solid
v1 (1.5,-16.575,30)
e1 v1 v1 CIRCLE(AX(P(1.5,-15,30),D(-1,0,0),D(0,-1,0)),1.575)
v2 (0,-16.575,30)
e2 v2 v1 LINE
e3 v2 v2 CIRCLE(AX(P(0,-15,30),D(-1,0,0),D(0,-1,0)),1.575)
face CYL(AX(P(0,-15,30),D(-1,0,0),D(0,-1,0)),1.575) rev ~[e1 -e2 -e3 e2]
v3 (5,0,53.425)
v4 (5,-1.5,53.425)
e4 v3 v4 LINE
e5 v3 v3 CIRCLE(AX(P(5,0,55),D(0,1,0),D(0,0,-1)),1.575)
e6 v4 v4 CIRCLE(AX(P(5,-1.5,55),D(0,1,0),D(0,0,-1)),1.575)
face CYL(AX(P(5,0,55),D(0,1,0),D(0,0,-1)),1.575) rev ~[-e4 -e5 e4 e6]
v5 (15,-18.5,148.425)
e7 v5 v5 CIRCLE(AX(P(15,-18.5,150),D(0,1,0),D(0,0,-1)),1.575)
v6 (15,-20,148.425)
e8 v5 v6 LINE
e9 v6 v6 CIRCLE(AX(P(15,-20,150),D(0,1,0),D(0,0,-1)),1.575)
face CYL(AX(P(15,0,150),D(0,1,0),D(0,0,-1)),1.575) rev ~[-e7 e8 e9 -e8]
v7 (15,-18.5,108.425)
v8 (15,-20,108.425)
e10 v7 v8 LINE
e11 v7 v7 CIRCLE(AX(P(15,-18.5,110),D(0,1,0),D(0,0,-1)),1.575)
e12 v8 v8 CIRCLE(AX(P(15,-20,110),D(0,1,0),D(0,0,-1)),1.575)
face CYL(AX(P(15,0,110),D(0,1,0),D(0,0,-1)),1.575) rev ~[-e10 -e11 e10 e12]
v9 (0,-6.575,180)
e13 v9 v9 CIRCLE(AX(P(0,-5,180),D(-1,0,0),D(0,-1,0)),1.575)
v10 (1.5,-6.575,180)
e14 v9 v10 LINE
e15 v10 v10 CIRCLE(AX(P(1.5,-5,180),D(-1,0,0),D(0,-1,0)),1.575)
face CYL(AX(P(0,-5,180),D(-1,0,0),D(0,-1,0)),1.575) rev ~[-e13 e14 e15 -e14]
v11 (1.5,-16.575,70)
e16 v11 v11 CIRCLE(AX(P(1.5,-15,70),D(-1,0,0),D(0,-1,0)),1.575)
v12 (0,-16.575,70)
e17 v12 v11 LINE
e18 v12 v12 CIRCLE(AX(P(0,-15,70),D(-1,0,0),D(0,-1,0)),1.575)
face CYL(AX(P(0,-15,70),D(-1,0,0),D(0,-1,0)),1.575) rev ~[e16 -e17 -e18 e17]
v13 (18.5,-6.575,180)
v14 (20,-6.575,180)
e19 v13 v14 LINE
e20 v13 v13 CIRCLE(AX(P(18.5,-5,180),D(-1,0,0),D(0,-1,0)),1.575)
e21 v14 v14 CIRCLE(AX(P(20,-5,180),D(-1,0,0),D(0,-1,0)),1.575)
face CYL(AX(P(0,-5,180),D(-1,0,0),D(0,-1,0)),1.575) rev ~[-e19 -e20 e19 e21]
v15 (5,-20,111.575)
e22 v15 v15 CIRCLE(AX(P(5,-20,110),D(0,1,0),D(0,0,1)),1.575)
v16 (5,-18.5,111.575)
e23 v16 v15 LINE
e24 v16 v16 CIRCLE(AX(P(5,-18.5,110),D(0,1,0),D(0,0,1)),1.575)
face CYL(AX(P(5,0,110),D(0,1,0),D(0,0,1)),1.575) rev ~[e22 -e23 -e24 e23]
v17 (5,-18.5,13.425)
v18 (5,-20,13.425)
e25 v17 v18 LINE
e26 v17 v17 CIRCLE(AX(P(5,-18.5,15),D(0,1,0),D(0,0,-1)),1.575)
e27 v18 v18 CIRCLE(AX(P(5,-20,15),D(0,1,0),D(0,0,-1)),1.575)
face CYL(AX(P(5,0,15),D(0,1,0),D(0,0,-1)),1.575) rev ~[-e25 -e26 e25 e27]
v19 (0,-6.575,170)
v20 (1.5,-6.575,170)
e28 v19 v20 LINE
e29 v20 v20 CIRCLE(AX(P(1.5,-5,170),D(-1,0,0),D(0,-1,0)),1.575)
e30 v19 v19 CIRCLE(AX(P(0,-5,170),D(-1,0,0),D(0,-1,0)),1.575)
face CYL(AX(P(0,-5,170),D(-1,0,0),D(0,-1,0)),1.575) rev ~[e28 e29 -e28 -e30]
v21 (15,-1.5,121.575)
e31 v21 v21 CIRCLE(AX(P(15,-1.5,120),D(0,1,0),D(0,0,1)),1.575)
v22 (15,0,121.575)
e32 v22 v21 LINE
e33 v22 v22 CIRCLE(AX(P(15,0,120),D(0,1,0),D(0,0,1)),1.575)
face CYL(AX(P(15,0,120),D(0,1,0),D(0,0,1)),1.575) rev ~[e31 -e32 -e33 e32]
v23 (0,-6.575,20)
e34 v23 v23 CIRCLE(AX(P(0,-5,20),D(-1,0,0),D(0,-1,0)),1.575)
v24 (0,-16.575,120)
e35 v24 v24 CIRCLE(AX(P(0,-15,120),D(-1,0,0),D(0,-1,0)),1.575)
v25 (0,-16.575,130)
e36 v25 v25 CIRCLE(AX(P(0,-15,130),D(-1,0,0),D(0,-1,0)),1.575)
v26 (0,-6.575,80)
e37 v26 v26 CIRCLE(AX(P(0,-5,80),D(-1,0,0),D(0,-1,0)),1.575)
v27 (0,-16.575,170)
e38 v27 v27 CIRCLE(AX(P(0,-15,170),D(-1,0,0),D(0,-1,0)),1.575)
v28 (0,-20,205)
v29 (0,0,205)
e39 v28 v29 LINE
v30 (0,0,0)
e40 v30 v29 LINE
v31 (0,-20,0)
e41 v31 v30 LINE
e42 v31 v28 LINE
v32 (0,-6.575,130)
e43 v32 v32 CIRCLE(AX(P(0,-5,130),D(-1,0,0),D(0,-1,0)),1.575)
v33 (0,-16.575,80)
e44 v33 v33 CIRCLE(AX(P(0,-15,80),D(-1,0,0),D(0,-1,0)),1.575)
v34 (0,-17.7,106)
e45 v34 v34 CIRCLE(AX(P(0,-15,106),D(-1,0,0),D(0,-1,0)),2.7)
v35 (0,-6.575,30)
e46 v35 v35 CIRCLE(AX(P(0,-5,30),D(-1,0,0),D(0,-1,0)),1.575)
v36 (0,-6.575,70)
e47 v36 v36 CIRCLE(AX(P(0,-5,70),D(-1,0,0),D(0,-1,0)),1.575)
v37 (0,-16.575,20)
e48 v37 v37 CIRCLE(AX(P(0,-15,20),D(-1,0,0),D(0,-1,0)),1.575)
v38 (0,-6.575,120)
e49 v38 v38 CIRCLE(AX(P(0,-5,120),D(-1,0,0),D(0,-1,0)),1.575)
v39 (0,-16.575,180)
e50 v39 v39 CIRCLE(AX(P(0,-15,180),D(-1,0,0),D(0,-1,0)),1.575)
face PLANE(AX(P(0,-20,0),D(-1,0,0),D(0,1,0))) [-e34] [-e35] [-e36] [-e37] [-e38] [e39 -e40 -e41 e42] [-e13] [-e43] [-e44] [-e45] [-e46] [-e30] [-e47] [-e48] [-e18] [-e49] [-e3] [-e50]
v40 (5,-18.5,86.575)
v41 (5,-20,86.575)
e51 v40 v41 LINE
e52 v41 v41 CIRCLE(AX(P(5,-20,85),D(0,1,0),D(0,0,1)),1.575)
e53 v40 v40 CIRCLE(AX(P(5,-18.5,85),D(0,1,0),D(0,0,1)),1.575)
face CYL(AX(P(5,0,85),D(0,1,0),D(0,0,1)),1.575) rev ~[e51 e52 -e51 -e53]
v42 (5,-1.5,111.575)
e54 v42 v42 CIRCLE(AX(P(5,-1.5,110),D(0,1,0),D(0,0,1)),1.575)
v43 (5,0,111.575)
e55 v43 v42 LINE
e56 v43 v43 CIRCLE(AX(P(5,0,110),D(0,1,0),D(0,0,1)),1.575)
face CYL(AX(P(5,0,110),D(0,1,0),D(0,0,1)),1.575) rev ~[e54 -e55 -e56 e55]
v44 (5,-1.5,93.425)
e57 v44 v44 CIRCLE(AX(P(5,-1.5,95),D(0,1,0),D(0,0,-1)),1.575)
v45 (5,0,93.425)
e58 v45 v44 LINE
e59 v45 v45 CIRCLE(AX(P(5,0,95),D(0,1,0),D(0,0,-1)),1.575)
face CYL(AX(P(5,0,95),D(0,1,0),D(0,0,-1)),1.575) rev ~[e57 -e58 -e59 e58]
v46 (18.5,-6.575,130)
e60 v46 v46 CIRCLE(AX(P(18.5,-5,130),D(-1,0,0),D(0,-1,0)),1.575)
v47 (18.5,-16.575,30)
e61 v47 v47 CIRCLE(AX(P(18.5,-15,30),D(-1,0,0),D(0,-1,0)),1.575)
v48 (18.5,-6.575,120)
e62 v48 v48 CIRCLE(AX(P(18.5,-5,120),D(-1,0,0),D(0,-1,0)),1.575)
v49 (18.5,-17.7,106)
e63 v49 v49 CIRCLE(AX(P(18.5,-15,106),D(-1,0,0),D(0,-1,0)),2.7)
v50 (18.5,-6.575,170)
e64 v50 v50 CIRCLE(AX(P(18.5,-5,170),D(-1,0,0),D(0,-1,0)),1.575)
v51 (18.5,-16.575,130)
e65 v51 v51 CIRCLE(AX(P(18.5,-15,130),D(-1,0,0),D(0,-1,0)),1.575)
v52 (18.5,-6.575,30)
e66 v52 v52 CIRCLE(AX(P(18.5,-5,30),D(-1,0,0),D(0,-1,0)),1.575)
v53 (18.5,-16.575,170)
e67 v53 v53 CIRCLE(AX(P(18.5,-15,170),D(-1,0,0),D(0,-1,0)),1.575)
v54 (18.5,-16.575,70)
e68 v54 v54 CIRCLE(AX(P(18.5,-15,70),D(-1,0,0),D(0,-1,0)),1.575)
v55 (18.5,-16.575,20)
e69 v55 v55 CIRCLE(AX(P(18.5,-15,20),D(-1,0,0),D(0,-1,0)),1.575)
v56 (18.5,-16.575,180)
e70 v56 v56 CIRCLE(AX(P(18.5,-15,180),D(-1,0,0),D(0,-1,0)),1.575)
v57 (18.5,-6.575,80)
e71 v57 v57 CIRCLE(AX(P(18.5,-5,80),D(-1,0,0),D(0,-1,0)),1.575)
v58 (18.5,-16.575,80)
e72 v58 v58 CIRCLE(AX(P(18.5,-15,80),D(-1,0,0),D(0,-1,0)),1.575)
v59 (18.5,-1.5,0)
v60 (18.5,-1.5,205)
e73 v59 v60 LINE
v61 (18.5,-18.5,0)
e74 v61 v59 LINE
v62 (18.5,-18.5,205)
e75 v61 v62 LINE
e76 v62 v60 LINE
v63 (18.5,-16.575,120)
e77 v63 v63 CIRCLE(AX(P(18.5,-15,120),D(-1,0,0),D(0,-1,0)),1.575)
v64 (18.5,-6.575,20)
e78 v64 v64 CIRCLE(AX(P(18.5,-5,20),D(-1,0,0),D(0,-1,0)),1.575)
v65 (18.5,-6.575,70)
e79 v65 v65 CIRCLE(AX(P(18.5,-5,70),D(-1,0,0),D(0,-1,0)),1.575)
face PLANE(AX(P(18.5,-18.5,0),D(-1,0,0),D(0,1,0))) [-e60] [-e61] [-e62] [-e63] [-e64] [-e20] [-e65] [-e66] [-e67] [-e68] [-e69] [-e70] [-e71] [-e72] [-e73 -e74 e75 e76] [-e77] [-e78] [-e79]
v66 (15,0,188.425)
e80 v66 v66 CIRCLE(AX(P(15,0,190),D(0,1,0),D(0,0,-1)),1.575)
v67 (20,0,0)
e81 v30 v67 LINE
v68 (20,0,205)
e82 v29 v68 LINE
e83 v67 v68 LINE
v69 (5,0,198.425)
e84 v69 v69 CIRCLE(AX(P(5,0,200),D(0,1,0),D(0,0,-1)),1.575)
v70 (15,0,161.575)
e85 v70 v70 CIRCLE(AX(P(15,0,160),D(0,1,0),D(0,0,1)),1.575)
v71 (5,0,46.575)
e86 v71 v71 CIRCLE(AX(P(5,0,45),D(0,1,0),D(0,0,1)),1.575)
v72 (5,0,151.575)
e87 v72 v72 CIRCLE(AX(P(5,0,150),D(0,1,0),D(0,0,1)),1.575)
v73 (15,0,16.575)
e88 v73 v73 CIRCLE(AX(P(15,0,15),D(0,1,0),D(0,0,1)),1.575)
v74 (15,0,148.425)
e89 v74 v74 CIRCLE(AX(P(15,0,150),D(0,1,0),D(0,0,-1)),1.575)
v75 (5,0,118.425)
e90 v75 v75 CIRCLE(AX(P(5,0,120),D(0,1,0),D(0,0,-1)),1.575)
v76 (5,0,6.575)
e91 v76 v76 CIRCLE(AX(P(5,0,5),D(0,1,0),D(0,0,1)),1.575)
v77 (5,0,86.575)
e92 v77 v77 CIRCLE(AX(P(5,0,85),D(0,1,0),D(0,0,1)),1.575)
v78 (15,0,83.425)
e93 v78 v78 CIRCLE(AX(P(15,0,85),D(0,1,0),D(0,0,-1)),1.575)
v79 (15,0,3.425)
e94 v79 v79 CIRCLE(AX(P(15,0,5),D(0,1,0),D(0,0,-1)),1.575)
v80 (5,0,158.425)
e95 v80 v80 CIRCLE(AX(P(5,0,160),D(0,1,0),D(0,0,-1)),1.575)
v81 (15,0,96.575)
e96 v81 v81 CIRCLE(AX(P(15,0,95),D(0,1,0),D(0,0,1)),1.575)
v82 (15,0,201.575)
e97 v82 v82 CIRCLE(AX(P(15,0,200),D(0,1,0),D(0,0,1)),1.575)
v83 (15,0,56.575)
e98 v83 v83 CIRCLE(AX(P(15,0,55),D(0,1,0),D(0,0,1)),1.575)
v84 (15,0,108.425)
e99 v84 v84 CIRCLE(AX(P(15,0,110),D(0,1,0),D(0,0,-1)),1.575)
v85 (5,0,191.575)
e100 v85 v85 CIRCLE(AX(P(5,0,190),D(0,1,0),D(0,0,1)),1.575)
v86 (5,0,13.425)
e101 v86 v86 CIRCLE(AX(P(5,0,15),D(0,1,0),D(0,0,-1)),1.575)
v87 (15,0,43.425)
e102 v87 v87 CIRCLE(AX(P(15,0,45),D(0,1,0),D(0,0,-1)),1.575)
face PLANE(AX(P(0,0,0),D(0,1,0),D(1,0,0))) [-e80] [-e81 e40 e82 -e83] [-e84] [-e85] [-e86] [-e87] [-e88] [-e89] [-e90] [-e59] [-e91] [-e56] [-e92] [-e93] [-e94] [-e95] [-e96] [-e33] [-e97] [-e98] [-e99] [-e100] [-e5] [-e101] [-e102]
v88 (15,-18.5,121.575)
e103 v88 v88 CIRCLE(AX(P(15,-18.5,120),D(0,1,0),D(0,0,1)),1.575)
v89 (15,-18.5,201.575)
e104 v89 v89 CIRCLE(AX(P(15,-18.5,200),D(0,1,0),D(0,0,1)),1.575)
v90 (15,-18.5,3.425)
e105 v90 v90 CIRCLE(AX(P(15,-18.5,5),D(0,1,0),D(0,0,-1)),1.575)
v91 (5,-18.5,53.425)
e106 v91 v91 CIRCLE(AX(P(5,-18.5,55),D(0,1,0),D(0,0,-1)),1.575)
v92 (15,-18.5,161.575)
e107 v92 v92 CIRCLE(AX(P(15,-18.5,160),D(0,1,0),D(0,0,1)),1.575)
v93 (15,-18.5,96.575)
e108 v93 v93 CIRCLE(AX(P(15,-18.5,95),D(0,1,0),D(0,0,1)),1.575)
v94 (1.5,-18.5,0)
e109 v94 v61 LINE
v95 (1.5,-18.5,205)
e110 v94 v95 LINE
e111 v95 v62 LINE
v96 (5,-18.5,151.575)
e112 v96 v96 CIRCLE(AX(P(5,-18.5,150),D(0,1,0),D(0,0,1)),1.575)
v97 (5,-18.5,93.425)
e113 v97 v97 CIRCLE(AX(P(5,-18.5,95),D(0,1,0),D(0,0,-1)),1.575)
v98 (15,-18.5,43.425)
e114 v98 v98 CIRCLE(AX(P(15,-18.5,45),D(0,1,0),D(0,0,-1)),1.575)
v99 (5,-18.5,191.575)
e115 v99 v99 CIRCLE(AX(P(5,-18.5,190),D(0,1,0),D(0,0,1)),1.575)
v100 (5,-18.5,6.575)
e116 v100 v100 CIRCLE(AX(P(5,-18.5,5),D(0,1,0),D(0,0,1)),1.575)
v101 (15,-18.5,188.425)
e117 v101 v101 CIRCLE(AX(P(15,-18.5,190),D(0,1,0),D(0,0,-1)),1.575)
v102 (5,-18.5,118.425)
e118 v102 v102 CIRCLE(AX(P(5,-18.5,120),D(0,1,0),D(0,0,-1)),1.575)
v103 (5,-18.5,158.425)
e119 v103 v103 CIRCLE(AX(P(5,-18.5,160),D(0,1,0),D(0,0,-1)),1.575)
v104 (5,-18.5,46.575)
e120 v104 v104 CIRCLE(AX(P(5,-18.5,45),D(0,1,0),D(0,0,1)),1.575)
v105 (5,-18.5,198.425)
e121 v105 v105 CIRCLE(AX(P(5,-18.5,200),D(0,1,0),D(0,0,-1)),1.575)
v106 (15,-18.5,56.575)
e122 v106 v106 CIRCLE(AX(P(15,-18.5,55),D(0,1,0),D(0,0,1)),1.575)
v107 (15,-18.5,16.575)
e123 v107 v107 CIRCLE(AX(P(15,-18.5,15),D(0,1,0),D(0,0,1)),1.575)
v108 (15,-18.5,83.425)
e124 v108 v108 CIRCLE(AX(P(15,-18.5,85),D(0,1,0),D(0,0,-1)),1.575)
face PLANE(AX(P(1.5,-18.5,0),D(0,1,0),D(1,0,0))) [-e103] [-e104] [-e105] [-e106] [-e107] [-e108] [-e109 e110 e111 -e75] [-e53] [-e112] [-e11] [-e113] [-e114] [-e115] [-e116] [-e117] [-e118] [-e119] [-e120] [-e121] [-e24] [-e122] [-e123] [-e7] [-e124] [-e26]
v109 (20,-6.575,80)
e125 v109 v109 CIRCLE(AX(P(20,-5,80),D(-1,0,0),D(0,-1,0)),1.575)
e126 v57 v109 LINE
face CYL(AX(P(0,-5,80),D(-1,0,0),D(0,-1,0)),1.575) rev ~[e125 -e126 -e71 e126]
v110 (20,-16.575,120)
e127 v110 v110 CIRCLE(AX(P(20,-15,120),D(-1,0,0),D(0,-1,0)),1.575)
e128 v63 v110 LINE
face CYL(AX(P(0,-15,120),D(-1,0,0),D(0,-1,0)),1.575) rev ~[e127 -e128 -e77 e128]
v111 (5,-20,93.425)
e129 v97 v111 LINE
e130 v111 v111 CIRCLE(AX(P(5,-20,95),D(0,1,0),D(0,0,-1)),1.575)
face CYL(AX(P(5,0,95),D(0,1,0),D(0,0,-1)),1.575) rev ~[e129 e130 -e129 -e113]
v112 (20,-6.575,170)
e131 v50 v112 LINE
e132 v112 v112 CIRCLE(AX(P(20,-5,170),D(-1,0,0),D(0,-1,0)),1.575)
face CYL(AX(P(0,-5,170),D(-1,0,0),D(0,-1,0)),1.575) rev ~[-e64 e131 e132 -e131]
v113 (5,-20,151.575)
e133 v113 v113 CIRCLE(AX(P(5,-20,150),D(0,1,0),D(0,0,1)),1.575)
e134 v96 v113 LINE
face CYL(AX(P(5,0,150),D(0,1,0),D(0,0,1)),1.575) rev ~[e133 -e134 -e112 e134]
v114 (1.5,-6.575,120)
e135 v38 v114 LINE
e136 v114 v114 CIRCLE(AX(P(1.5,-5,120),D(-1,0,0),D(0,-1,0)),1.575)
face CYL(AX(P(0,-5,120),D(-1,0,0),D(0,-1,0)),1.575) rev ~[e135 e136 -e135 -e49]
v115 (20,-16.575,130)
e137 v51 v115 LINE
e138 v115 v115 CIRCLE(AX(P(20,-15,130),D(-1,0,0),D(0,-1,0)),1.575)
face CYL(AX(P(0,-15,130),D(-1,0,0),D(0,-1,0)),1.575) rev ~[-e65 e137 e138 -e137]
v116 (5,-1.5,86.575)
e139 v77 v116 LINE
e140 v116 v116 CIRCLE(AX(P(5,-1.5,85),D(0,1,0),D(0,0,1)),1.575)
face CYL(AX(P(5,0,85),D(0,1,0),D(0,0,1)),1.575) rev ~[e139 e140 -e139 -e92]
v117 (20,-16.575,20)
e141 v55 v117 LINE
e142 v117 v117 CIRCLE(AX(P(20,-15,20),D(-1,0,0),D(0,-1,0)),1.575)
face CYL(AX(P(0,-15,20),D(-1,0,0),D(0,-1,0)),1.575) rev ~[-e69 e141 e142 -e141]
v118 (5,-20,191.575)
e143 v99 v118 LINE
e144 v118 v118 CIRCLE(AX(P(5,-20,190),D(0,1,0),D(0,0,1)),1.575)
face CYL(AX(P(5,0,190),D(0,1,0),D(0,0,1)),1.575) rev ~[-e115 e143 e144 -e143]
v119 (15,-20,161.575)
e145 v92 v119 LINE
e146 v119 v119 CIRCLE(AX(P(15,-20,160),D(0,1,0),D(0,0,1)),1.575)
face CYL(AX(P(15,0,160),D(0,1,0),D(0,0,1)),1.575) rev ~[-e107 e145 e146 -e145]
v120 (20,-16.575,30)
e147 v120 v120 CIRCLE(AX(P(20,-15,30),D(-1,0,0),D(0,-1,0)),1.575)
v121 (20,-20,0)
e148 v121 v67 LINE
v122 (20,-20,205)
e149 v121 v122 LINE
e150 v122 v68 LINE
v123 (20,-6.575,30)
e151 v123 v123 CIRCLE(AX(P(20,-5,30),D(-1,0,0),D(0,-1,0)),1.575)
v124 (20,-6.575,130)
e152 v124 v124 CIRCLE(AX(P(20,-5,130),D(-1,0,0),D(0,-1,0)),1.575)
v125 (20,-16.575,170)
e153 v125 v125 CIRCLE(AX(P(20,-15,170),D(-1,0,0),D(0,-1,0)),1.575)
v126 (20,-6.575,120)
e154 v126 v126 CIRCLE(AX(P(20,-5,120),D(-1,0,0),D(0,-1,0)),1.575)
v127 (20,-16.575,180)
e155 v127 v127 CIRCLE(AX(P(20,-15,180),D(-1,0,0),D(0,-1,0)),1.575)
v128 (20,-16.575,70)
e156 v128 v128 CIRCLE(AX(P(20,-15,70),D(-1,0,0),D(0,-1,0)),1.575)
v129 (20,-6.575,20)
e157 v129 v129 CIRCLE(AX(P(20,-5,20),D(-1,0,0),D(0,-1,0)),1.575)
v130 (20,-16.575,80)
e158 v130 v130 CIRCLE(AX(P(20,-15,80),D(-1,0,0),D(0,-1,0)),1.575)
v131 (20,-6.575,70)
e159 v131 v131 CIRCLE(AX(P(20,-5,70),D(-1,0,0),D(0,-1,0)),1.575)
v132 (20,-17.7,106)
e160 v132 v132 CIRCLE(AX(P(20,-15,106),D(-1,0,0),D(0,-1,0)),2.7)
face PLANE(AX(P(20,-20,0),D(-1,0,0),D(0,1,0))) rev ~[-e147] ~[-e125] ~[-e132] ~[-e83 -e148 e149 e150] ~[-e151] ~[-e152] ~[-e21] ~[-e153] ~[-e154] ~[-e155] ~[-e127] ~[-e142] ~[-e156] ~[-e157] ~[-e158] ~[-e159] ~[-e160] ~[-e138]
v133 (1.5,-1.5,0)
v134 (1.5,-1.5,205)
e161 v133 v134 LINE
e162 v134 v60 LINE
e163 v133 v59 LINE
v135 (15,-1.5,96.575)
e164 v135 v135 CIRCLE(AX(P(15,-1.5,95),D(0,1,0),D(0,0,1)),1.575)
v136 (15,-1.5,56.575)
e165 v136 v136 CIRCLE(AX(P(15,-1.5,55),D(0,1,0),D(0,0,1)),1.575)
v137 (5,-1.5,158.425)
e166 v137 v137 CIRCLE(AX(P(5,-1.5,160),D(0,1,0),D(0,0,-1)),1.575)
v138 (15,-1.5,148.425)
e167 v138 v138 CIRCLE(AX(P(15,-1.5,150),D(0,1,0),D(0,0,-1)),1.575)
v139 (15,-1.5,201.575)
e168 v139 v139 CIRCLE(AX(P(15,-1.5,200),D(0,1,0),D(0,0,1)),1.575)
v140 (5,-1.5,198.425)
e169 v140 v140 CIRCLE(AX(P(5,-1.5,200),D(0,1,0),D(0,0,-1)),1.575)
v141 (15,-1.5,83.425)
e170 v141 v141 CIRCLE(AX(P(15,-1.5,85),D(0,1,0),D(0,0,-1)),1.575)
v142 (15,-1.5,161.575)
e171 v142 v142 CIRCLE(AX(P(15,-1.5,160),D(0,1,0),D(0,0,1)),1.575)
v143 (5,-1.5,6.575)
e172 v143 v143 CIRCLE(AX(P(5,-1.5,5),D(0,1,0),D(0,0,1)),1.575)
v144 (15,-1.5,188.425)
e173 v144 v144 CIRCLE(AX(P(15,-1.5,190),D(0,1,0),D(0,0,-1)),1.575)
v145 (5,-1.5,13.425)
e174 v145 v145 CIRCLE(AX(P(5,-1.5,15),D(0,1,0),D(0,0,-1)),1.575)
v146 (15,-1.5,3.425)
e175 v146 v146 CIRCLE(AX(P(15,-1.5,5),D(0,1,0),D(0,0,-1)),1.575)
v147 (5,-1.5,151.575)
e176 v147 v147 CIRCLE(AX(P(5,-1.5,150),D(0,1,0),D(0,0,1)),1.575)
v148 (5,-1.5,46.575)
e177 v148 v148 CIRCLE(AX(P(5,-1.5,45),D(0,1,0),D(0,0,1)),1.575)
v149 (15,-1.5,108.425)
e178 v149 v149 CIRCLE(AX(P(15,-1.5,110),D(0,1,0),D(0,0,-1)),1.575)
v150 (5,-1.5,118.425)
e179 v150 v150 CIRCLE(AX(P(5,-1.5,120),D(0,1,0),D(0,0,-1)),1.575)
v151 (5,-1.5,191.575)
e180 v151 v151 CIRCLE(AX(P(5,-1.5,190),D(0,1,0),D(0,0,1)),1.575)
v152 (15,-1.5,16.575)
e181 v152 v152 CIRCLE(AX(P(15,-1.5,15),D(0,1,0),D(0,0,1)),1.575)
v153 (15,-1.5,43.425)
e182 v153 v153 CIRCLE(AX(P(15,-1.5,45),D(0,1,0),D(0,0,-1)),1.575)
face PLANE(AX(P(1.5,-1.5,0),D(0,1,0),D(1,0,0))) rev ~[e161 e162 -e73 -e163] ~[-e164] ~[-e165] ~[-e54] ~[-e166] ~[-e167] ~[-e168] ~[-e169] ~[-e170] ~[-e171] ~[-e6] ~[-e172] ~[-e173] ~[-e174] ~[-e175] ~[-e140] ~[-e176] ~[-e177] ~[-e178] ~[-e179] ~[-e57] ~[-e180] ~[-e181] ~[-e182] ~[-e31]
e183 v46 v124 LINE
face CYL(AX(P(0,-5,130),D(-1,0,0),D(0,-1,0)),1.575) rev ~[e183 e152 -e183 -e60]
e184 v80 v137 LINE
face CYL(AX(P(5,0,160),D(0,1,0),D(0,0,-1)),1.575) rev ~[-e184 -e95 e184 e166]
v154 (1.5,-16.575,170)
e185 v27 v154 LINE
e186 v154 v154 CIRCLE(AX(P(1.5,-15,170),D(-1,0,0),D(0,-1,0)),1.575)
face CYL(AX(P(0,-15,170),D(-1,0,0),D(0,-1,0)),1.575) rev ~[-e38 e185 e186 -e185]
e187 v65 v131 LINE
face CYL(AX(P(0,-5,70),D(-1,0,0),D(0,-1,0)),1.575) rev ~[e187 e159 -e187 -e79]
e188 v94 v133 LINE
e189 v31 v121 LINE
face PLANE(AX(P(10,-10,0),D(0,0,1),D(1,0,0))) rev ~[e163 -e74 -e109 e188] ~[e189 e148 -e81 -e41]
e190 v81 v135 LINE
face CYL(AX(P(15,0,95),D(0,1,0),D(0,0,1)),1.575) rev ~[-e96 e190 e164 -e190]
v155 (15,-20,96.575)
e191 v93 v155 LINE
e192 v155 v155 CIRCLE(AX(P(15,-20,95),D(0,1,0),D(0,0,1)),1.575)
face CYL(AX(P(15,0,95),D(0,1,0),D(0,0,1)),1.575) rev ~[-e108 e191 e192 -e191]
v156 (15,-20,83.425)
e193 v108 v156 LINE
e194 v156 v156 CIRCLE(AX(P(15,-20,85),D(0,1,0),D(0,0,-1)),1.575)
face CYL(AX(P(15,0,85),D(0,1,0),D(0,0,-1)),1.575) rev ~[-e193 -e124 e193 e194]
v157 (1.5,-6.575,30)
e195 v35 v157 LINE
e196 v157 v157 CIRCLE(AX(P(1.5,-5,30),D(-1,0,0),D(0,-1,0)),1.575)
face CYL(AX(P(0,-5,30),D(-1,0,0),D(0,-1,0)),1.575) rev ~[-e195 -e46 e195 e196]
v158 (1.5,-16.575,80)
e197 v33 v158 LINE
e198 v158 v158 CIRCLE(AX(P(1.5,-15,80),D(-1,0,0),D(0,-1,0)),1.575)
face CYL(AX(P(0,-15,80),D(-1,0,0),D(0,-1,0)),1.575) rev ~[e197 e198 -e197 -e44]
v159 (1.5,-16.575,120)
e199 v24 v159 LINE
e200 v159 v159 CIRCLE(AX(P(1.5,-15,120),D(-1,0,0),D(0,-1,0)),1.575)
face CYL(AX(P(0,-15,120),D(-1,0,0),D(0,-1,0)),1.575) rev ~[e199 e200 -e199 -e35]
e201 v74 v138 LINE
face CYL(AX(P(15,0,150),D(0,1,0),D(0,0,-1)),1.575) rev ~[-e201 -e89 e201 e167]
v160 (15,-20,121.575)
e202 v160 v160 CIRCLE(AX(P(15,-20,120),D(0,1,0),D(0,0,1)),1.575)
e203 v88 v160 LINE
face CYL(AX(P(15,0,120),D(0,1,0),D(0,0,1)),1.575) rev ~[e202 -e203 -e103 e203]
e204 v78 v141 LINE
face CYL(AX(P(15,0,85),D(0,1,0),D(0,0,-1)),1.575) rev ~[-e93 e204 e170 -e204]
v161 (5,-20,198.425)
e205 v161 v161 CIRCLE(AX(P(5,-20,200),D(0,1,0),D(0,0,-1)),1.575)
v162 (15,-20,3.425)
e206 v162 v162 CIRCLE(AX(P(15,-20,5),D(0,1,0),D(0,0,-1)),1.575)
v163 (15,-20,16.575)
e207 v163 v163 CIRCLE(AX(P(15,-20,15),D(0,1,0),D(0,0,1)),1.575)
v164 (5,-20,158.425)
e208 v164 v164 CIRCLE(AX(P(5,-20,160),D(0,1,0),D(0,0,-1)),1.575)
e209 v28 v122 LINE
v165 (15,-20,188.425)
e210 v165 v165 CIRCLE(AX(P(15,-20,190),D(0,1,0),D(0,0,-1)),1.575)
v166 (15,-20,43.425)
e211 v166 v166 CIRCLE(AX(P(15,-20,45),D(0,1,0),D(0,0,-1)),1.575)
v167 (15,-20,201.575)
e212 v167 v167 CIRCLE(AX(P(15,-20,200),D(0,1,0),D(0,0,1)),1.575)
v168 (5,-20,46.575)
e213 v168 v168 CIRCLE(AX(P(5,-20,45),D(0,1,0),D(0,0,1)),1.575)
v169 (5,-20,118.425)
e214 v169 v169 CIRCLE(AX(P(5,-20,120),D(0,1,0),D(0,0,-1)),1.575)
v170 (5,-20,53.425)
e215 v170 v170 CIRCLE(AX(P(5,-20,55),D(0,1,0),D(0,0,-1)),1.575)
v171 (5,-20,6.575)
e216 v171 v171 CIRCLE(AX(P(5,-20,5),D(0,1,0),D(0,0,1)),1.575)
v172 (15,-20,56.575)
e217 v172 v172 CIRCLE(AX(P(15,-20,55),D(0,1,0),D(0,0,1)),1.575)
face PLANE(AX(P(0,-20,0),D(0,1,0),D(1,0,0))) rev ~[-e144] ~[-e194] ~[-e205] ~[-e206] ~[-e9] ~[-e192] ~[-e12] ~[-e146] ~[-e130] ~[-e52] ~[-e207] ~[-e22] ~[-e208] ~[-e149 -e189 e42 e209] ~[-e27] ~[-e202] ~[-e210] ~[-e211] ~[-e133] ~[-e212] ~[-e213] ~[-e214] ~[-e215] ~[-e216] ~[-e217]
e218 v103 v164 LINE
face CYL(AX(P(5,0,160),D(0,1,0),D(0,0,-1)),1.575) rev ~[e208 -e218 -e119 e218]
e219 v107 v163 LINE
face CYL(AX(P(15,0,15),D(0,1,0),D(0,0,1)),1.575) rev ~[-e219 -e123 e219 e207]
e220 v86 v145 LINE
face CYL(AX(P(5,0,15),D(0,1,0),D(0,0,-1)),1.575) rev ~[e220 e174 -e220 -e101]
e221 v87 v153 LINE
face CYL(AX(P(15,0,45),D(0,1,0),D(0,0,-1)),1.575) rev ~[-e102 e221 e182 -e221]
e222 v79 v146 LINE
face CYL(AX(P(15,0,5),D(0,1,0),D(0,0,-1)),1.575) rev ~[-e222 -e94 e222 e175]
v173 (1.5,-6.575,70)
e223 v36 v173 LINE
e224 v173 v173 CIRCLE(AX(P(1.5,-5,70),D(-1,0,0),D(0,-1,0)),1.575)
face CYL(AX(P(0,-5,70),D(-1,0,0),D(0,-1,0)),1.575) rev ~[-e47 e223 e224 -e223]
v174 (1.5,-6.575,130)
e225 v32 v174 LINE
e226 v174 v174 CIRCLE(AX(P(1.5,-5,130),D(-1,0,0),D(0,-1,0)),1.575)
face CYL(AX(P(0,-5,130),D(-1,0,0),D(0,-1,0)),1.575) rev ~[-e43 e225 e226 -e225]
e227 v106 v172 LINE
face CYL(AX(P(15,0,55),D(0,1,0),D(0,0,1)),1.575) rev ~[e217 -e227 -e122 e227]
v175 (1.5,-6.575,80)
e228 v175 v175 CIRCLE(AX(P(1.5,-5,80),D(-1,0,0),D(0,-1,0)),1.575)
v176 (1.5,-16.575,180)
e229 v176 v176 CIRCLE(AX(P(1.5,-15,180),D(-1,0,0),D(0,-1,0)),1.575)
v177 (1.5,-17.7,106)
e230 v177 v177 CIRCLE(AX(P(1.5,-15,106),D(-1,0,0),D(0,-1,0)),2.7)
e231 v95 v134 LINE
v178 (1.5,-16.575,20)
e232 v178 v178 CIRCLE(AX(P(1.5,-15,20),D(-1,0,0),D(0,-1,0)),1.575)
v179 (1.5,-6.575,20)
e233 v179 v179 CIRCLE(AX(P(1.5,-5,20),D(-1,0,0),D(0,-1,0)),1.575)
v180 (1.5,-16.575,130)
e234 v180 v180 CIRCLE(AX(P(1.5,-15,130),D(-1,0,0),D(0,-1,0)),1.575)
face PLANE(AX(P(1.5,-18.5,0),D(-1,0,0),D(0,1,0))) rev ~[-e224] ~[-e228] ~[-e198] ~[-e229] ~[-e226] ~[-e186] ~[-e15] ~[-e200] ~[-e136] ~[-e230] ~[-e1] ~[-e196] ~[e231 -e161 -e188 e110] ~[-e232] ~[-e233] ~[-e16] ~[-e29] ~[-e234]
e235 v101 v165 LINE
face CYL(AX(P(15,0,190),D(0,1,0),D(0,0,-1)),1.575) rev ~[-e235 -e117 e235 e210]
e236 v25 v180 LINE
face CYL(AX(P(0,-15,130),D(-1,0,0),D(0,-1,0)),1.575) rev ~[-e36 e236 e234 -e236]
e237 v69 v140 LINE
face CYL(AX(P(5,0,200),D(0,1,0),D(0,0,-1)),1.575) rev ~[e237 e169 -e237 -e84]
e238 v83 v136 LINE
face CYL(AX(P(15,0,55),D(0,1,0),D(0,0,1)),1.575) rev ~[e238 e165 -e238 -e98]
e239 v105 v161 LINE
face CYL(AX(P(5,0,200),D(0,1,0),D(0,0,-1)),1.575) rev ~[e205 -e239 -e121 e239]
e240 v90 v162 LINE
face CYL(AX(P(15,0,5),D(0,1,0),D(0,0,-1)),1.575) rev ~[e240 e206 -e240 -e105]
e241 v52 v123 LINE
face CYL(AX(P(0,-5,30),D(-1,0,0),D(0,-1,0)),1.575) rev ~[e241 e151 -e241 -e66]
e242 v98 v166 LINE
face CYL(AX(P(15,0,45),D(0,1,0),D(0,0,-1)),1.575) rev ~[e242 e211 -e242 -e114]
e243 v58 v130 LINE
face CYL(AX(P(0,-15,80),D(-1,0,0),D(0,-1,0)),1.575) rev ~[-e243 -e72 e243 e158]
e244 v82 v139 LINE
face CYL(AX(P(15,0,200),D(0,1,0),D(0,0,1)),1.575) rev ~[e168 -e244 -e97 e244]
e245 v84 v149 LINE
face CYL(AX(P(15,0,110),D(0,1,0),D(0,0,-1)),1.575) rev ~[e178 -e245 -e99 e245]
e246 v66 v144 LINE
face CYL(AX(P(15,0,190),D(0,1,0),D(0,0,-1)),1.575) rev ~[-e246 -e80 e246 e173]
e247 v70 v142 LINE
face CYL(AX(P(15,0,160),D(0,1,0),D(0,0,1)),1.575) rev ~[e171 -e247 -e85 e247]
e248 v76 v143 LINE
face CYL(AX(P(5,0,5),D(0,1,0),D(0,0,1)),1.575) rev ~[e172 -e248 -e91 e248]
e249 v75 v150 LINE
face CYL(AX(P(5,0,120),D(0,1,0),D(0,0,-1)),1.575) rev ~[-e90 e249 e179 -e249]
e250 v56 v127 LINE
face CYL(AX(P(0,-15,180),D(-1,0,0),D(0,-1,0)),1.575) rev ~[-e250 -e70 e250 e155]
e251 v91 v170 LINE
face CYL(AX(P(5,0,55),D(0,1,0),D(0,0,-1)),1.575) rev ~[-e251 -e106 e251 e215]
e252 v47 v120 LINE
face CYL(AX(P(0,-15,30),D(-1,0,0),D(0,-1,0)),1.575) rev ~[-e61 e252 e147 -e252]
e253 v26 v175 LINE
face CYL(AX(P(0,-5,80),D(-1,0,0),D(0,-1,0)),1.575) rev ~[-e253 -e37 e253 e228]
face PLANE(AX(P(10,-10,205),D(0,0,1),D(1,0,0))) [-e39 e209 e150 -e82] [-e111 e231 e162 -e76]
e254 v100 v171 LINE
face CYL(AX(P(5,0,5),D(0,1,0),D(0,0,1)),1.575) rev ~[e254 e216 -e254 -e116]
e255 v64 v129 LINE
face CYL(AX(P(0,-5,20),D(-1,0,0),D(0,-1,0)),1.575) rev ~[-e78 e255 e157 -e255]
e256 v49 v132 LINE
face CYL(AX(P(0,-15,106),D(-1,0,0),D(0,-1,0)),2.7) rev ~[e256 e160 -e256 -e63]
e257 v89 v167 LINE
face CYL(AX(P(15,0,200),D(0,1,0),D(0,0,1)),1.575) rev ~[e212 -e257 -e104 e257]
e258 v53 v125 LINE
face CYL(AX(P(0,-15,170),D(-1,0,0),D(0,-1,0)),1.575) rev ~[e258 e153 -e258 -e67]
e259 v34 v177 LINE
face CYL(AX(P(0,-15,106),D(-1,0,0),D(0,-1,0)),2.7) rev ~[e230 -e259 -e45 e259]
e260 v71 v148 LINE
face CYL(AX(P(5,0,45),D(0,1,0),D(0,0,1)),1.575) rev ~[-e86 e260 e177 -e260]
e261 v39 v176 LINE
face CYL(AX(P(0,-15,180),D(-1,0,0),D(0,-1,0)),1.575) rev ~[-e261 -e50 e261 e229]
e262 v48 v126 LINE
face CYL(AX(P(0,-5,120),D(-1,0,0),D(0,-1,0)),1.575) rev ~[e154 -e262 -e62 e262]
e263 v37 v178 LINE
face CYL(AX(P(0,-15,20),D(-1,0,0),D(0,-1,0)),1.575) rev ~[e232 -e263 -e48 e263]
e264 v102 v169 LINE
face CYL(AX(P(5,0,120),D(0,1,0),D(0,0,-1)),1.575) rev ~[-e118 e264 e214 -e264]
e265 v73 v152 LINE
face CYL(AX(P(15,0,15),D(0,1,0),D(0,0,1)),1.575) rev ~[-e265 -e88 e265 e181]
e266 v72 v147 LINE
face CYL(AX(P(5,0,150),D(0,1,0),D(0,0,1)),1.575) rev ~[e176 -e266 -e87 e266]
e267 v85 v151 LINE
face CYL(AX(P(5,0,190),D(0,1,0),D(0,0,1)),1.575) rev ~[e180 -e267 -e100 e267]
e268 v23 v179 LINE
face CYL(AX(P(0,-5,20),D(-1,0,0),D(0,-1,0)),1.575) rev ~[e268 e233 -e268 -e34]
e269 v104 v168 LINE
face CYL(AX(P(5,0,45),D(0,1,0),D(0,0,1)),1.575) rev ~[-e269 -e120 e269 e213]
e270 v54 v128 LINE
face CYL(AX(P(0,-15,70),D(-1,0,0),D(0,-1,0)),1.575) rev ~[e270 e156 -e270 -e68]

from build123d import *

# Parameters (mm, degrees)
SKETCH_1_W          = 20
SKETCH_1_H          = 20
SKETCH_1_W_2        = 17
SKETCH_1_H_2        = 17
EXTRUDE_1_DEPTH     = 205
SKETCH_2_R          = 2.7
SKETCH_2_R_2        = 1.575
CUT_EXTRUDE_1_DEPTH = 207.942020866
SKETCH_3_R          = 1.575
CUT_EXTRUDE_2_DEPTH = 207.942020866


with BuildPart() as part:
    # 草图1 → 拉伸-薄壁1 (new body)
    with BuildSketch(Plane.XY):
        with Locations((10, -10)):
            Rectangle(SKETCH_1_W, SKETCH_1_H)
        with Locations((10, -10)):
            Rectangle(SKETCH_1_W_2, SKETCH_1_H_2, mode=Mode.SUBTRACT)
    extrude(amount=EXTRUDE_1_DEPTH)

    # 草图2 → 切除-拉伸1 (cut, through all)
    with BuildSketch(Plane.ZY):
        with Locations(Location((106, -15, 0), (0, 0, 270))):
            Circle(SKETCH_2_R)
        with Locations(Location((180, -5, 0), (0, 0, 270))):
            Circle(SKETCH_2_R_2)
        with Locations(Location((180, -15, 0), (0, 0, 270))):
            Circle(SKETCH_2_R_2)
        with Locations(Location((170, -15, 0), (0, 0, 270))):
            Circle(SKETCH_2_R_2)
        with Locations(Location((170, -5, 0), (0, 0, 270))):
            Circle(SKETCH_2_R_2)
        with Locations(Location((120, -5, 0), (0, 0, 270))):
            Circle(SKETCH_2_R_2)
        with Locations(Location((130, -5, 0), (0, 0, 270))):
            Circle(SKETCH_2_R_2)
        with Locations(Location((120, -15, 0), (0, 0, 270))):
            Circle(SKETCH_2_R_2)
        with Locations(Location((130, -15, 0), (0, 0, 270))):
            Circle(SKETCH_2_R_2)
        with Locations(Location((70, -5, 0), (0, 0, 270))):
            Circle(SKETCH_2_R_2)
        with Locations(Location((80, -5, 0), (0, 0, 270))):
            Circle(SKETCH_2_R_2)
        with Locations(Location((70, -15, 0), (0, 0, 270))):
            Circle(SKETCH_2_R_2)
        with Locations(Location((80, -15, 0), (0, 0, 270))):
            Circle(SKETCH_2_R_2)
        with Locations(Location((20, -5, 0), (0, 0, 270))):
            Circle(SKETCH_2_R_2)
        with Locations(Location((30, -5, 0), (0, 0, 270))):
            Circle(SKETCH_2_R_2)
        with Locations(Location((20, -15, 0), (0, 0, 270))):
            Circle(SKETCH_2_R_2)
        with Locations(Location((30, -15, 0), (0, 0, 270))):
            Circle(SKETCH_2_R_2)
    extrude(amount=-CUT_EXTRUDE_1_DEPTH, mode=Mode.SUBTRACT)

    # 草图3 → 切除-拉伸2 (cut, through all)
    with BuildSketch(Plane(origin=(0, 0, 0), x_dir=(1, 0, 0), z_dir=(0, 1, 0))):
        with Locations(Location((5, -5, 0), (0, 0, 270))):
            Circle(SKETCH_3_R)
        with Locations(Location((15, -5, 0), (0, 0, 90))):
            Circle(SKETCH_3_R)
        with Locations(Location((15, -15, 0), (0, 0, 270))):
            Circle(SKETCH_3_R)
        with Locations(Location((5, -15, 0), (0, 0, 90))):
            Circle(SKETCH_3_R)
        with Locations(Location((5, -190, 0), (0, 0, 270))):
            Circle(SKETCH_3_R)
        with Locations(Location((15, -190, 0), (0, 0, 90))):
            Circle(SKETCH_3_R)
        with Locations(Location((15, -200, 0), (0, 0, 270))):
            Circle(SKETCH_3_R)
        with Locations(Location((5, -200, 0), (0, 0, 90))):
            Circle(SKETCH_3_R)
        with Locations(Location((5, -150, 0), (0, 0, 270))):
            Circle(SKETCH_3_R)
        with Locations(Location((15, -150, 0), (0, 0, 90))):
            Circle(SKETCH_3_R)
        with Locations(Location((5, -160, 0), (0, 0, 90))):
            Circle(SKETCH_3_R)
        with Locations(Location((15, -160, 0), (0, 0, 270))):
            Circle(SKETCH_3_R)
        with Locations(Location((5, -110, 0), (0, 0, 270))):
            Circle(SKETCH_3_R)
        with Locations(Location((15, -110, 0), (0, 0, 90))):
            Circle(SKETCH_3_R)
        with Locations(Location((5, -120, 0), (0, 0, 90))):
            Circle(SKETCH_3_R)
        with Locations(Location((15, -120, 0), (0, 0, 270))):
            Circle(SKETCH_3_R)
        with Locations(Location((15, -85, 0), (0, 0, 90))):
            Circle(SKETCH_3_R)
        with Locations(Location((5, -85, 0), (0, 0, 270))):
            Circle(SKETCH_3_R)
        with Locations(Location((15, -95, 0), (0, 0, 270))):
            Circle(SKETCH_3_R)
        with Locations(Location((5, -95, 0), (0, 0, 90))):
            Circle(SKETCH_3_R)
        with Locations(Location((15, -45, 0), (0, 0, 90))):
            Circle(SKETCH_3_R)
        with Locations(Location((5, -45, 0), (0, 0, 270))):
            Circle(SKETCH_3_R)
        with Locations(Location((15, -55, 0), (0, 0, 270))):
            Circle(SKETCH_3_R)
        with Locations(Location((5, -55, 0), (0, 0, 90))):
            Circle(SKETCH_3_R)
    extrude(amount=-CUT_EXTRUDE_2_DEPTH, mode=Mode.SUBTRACT)


solid = part.part
